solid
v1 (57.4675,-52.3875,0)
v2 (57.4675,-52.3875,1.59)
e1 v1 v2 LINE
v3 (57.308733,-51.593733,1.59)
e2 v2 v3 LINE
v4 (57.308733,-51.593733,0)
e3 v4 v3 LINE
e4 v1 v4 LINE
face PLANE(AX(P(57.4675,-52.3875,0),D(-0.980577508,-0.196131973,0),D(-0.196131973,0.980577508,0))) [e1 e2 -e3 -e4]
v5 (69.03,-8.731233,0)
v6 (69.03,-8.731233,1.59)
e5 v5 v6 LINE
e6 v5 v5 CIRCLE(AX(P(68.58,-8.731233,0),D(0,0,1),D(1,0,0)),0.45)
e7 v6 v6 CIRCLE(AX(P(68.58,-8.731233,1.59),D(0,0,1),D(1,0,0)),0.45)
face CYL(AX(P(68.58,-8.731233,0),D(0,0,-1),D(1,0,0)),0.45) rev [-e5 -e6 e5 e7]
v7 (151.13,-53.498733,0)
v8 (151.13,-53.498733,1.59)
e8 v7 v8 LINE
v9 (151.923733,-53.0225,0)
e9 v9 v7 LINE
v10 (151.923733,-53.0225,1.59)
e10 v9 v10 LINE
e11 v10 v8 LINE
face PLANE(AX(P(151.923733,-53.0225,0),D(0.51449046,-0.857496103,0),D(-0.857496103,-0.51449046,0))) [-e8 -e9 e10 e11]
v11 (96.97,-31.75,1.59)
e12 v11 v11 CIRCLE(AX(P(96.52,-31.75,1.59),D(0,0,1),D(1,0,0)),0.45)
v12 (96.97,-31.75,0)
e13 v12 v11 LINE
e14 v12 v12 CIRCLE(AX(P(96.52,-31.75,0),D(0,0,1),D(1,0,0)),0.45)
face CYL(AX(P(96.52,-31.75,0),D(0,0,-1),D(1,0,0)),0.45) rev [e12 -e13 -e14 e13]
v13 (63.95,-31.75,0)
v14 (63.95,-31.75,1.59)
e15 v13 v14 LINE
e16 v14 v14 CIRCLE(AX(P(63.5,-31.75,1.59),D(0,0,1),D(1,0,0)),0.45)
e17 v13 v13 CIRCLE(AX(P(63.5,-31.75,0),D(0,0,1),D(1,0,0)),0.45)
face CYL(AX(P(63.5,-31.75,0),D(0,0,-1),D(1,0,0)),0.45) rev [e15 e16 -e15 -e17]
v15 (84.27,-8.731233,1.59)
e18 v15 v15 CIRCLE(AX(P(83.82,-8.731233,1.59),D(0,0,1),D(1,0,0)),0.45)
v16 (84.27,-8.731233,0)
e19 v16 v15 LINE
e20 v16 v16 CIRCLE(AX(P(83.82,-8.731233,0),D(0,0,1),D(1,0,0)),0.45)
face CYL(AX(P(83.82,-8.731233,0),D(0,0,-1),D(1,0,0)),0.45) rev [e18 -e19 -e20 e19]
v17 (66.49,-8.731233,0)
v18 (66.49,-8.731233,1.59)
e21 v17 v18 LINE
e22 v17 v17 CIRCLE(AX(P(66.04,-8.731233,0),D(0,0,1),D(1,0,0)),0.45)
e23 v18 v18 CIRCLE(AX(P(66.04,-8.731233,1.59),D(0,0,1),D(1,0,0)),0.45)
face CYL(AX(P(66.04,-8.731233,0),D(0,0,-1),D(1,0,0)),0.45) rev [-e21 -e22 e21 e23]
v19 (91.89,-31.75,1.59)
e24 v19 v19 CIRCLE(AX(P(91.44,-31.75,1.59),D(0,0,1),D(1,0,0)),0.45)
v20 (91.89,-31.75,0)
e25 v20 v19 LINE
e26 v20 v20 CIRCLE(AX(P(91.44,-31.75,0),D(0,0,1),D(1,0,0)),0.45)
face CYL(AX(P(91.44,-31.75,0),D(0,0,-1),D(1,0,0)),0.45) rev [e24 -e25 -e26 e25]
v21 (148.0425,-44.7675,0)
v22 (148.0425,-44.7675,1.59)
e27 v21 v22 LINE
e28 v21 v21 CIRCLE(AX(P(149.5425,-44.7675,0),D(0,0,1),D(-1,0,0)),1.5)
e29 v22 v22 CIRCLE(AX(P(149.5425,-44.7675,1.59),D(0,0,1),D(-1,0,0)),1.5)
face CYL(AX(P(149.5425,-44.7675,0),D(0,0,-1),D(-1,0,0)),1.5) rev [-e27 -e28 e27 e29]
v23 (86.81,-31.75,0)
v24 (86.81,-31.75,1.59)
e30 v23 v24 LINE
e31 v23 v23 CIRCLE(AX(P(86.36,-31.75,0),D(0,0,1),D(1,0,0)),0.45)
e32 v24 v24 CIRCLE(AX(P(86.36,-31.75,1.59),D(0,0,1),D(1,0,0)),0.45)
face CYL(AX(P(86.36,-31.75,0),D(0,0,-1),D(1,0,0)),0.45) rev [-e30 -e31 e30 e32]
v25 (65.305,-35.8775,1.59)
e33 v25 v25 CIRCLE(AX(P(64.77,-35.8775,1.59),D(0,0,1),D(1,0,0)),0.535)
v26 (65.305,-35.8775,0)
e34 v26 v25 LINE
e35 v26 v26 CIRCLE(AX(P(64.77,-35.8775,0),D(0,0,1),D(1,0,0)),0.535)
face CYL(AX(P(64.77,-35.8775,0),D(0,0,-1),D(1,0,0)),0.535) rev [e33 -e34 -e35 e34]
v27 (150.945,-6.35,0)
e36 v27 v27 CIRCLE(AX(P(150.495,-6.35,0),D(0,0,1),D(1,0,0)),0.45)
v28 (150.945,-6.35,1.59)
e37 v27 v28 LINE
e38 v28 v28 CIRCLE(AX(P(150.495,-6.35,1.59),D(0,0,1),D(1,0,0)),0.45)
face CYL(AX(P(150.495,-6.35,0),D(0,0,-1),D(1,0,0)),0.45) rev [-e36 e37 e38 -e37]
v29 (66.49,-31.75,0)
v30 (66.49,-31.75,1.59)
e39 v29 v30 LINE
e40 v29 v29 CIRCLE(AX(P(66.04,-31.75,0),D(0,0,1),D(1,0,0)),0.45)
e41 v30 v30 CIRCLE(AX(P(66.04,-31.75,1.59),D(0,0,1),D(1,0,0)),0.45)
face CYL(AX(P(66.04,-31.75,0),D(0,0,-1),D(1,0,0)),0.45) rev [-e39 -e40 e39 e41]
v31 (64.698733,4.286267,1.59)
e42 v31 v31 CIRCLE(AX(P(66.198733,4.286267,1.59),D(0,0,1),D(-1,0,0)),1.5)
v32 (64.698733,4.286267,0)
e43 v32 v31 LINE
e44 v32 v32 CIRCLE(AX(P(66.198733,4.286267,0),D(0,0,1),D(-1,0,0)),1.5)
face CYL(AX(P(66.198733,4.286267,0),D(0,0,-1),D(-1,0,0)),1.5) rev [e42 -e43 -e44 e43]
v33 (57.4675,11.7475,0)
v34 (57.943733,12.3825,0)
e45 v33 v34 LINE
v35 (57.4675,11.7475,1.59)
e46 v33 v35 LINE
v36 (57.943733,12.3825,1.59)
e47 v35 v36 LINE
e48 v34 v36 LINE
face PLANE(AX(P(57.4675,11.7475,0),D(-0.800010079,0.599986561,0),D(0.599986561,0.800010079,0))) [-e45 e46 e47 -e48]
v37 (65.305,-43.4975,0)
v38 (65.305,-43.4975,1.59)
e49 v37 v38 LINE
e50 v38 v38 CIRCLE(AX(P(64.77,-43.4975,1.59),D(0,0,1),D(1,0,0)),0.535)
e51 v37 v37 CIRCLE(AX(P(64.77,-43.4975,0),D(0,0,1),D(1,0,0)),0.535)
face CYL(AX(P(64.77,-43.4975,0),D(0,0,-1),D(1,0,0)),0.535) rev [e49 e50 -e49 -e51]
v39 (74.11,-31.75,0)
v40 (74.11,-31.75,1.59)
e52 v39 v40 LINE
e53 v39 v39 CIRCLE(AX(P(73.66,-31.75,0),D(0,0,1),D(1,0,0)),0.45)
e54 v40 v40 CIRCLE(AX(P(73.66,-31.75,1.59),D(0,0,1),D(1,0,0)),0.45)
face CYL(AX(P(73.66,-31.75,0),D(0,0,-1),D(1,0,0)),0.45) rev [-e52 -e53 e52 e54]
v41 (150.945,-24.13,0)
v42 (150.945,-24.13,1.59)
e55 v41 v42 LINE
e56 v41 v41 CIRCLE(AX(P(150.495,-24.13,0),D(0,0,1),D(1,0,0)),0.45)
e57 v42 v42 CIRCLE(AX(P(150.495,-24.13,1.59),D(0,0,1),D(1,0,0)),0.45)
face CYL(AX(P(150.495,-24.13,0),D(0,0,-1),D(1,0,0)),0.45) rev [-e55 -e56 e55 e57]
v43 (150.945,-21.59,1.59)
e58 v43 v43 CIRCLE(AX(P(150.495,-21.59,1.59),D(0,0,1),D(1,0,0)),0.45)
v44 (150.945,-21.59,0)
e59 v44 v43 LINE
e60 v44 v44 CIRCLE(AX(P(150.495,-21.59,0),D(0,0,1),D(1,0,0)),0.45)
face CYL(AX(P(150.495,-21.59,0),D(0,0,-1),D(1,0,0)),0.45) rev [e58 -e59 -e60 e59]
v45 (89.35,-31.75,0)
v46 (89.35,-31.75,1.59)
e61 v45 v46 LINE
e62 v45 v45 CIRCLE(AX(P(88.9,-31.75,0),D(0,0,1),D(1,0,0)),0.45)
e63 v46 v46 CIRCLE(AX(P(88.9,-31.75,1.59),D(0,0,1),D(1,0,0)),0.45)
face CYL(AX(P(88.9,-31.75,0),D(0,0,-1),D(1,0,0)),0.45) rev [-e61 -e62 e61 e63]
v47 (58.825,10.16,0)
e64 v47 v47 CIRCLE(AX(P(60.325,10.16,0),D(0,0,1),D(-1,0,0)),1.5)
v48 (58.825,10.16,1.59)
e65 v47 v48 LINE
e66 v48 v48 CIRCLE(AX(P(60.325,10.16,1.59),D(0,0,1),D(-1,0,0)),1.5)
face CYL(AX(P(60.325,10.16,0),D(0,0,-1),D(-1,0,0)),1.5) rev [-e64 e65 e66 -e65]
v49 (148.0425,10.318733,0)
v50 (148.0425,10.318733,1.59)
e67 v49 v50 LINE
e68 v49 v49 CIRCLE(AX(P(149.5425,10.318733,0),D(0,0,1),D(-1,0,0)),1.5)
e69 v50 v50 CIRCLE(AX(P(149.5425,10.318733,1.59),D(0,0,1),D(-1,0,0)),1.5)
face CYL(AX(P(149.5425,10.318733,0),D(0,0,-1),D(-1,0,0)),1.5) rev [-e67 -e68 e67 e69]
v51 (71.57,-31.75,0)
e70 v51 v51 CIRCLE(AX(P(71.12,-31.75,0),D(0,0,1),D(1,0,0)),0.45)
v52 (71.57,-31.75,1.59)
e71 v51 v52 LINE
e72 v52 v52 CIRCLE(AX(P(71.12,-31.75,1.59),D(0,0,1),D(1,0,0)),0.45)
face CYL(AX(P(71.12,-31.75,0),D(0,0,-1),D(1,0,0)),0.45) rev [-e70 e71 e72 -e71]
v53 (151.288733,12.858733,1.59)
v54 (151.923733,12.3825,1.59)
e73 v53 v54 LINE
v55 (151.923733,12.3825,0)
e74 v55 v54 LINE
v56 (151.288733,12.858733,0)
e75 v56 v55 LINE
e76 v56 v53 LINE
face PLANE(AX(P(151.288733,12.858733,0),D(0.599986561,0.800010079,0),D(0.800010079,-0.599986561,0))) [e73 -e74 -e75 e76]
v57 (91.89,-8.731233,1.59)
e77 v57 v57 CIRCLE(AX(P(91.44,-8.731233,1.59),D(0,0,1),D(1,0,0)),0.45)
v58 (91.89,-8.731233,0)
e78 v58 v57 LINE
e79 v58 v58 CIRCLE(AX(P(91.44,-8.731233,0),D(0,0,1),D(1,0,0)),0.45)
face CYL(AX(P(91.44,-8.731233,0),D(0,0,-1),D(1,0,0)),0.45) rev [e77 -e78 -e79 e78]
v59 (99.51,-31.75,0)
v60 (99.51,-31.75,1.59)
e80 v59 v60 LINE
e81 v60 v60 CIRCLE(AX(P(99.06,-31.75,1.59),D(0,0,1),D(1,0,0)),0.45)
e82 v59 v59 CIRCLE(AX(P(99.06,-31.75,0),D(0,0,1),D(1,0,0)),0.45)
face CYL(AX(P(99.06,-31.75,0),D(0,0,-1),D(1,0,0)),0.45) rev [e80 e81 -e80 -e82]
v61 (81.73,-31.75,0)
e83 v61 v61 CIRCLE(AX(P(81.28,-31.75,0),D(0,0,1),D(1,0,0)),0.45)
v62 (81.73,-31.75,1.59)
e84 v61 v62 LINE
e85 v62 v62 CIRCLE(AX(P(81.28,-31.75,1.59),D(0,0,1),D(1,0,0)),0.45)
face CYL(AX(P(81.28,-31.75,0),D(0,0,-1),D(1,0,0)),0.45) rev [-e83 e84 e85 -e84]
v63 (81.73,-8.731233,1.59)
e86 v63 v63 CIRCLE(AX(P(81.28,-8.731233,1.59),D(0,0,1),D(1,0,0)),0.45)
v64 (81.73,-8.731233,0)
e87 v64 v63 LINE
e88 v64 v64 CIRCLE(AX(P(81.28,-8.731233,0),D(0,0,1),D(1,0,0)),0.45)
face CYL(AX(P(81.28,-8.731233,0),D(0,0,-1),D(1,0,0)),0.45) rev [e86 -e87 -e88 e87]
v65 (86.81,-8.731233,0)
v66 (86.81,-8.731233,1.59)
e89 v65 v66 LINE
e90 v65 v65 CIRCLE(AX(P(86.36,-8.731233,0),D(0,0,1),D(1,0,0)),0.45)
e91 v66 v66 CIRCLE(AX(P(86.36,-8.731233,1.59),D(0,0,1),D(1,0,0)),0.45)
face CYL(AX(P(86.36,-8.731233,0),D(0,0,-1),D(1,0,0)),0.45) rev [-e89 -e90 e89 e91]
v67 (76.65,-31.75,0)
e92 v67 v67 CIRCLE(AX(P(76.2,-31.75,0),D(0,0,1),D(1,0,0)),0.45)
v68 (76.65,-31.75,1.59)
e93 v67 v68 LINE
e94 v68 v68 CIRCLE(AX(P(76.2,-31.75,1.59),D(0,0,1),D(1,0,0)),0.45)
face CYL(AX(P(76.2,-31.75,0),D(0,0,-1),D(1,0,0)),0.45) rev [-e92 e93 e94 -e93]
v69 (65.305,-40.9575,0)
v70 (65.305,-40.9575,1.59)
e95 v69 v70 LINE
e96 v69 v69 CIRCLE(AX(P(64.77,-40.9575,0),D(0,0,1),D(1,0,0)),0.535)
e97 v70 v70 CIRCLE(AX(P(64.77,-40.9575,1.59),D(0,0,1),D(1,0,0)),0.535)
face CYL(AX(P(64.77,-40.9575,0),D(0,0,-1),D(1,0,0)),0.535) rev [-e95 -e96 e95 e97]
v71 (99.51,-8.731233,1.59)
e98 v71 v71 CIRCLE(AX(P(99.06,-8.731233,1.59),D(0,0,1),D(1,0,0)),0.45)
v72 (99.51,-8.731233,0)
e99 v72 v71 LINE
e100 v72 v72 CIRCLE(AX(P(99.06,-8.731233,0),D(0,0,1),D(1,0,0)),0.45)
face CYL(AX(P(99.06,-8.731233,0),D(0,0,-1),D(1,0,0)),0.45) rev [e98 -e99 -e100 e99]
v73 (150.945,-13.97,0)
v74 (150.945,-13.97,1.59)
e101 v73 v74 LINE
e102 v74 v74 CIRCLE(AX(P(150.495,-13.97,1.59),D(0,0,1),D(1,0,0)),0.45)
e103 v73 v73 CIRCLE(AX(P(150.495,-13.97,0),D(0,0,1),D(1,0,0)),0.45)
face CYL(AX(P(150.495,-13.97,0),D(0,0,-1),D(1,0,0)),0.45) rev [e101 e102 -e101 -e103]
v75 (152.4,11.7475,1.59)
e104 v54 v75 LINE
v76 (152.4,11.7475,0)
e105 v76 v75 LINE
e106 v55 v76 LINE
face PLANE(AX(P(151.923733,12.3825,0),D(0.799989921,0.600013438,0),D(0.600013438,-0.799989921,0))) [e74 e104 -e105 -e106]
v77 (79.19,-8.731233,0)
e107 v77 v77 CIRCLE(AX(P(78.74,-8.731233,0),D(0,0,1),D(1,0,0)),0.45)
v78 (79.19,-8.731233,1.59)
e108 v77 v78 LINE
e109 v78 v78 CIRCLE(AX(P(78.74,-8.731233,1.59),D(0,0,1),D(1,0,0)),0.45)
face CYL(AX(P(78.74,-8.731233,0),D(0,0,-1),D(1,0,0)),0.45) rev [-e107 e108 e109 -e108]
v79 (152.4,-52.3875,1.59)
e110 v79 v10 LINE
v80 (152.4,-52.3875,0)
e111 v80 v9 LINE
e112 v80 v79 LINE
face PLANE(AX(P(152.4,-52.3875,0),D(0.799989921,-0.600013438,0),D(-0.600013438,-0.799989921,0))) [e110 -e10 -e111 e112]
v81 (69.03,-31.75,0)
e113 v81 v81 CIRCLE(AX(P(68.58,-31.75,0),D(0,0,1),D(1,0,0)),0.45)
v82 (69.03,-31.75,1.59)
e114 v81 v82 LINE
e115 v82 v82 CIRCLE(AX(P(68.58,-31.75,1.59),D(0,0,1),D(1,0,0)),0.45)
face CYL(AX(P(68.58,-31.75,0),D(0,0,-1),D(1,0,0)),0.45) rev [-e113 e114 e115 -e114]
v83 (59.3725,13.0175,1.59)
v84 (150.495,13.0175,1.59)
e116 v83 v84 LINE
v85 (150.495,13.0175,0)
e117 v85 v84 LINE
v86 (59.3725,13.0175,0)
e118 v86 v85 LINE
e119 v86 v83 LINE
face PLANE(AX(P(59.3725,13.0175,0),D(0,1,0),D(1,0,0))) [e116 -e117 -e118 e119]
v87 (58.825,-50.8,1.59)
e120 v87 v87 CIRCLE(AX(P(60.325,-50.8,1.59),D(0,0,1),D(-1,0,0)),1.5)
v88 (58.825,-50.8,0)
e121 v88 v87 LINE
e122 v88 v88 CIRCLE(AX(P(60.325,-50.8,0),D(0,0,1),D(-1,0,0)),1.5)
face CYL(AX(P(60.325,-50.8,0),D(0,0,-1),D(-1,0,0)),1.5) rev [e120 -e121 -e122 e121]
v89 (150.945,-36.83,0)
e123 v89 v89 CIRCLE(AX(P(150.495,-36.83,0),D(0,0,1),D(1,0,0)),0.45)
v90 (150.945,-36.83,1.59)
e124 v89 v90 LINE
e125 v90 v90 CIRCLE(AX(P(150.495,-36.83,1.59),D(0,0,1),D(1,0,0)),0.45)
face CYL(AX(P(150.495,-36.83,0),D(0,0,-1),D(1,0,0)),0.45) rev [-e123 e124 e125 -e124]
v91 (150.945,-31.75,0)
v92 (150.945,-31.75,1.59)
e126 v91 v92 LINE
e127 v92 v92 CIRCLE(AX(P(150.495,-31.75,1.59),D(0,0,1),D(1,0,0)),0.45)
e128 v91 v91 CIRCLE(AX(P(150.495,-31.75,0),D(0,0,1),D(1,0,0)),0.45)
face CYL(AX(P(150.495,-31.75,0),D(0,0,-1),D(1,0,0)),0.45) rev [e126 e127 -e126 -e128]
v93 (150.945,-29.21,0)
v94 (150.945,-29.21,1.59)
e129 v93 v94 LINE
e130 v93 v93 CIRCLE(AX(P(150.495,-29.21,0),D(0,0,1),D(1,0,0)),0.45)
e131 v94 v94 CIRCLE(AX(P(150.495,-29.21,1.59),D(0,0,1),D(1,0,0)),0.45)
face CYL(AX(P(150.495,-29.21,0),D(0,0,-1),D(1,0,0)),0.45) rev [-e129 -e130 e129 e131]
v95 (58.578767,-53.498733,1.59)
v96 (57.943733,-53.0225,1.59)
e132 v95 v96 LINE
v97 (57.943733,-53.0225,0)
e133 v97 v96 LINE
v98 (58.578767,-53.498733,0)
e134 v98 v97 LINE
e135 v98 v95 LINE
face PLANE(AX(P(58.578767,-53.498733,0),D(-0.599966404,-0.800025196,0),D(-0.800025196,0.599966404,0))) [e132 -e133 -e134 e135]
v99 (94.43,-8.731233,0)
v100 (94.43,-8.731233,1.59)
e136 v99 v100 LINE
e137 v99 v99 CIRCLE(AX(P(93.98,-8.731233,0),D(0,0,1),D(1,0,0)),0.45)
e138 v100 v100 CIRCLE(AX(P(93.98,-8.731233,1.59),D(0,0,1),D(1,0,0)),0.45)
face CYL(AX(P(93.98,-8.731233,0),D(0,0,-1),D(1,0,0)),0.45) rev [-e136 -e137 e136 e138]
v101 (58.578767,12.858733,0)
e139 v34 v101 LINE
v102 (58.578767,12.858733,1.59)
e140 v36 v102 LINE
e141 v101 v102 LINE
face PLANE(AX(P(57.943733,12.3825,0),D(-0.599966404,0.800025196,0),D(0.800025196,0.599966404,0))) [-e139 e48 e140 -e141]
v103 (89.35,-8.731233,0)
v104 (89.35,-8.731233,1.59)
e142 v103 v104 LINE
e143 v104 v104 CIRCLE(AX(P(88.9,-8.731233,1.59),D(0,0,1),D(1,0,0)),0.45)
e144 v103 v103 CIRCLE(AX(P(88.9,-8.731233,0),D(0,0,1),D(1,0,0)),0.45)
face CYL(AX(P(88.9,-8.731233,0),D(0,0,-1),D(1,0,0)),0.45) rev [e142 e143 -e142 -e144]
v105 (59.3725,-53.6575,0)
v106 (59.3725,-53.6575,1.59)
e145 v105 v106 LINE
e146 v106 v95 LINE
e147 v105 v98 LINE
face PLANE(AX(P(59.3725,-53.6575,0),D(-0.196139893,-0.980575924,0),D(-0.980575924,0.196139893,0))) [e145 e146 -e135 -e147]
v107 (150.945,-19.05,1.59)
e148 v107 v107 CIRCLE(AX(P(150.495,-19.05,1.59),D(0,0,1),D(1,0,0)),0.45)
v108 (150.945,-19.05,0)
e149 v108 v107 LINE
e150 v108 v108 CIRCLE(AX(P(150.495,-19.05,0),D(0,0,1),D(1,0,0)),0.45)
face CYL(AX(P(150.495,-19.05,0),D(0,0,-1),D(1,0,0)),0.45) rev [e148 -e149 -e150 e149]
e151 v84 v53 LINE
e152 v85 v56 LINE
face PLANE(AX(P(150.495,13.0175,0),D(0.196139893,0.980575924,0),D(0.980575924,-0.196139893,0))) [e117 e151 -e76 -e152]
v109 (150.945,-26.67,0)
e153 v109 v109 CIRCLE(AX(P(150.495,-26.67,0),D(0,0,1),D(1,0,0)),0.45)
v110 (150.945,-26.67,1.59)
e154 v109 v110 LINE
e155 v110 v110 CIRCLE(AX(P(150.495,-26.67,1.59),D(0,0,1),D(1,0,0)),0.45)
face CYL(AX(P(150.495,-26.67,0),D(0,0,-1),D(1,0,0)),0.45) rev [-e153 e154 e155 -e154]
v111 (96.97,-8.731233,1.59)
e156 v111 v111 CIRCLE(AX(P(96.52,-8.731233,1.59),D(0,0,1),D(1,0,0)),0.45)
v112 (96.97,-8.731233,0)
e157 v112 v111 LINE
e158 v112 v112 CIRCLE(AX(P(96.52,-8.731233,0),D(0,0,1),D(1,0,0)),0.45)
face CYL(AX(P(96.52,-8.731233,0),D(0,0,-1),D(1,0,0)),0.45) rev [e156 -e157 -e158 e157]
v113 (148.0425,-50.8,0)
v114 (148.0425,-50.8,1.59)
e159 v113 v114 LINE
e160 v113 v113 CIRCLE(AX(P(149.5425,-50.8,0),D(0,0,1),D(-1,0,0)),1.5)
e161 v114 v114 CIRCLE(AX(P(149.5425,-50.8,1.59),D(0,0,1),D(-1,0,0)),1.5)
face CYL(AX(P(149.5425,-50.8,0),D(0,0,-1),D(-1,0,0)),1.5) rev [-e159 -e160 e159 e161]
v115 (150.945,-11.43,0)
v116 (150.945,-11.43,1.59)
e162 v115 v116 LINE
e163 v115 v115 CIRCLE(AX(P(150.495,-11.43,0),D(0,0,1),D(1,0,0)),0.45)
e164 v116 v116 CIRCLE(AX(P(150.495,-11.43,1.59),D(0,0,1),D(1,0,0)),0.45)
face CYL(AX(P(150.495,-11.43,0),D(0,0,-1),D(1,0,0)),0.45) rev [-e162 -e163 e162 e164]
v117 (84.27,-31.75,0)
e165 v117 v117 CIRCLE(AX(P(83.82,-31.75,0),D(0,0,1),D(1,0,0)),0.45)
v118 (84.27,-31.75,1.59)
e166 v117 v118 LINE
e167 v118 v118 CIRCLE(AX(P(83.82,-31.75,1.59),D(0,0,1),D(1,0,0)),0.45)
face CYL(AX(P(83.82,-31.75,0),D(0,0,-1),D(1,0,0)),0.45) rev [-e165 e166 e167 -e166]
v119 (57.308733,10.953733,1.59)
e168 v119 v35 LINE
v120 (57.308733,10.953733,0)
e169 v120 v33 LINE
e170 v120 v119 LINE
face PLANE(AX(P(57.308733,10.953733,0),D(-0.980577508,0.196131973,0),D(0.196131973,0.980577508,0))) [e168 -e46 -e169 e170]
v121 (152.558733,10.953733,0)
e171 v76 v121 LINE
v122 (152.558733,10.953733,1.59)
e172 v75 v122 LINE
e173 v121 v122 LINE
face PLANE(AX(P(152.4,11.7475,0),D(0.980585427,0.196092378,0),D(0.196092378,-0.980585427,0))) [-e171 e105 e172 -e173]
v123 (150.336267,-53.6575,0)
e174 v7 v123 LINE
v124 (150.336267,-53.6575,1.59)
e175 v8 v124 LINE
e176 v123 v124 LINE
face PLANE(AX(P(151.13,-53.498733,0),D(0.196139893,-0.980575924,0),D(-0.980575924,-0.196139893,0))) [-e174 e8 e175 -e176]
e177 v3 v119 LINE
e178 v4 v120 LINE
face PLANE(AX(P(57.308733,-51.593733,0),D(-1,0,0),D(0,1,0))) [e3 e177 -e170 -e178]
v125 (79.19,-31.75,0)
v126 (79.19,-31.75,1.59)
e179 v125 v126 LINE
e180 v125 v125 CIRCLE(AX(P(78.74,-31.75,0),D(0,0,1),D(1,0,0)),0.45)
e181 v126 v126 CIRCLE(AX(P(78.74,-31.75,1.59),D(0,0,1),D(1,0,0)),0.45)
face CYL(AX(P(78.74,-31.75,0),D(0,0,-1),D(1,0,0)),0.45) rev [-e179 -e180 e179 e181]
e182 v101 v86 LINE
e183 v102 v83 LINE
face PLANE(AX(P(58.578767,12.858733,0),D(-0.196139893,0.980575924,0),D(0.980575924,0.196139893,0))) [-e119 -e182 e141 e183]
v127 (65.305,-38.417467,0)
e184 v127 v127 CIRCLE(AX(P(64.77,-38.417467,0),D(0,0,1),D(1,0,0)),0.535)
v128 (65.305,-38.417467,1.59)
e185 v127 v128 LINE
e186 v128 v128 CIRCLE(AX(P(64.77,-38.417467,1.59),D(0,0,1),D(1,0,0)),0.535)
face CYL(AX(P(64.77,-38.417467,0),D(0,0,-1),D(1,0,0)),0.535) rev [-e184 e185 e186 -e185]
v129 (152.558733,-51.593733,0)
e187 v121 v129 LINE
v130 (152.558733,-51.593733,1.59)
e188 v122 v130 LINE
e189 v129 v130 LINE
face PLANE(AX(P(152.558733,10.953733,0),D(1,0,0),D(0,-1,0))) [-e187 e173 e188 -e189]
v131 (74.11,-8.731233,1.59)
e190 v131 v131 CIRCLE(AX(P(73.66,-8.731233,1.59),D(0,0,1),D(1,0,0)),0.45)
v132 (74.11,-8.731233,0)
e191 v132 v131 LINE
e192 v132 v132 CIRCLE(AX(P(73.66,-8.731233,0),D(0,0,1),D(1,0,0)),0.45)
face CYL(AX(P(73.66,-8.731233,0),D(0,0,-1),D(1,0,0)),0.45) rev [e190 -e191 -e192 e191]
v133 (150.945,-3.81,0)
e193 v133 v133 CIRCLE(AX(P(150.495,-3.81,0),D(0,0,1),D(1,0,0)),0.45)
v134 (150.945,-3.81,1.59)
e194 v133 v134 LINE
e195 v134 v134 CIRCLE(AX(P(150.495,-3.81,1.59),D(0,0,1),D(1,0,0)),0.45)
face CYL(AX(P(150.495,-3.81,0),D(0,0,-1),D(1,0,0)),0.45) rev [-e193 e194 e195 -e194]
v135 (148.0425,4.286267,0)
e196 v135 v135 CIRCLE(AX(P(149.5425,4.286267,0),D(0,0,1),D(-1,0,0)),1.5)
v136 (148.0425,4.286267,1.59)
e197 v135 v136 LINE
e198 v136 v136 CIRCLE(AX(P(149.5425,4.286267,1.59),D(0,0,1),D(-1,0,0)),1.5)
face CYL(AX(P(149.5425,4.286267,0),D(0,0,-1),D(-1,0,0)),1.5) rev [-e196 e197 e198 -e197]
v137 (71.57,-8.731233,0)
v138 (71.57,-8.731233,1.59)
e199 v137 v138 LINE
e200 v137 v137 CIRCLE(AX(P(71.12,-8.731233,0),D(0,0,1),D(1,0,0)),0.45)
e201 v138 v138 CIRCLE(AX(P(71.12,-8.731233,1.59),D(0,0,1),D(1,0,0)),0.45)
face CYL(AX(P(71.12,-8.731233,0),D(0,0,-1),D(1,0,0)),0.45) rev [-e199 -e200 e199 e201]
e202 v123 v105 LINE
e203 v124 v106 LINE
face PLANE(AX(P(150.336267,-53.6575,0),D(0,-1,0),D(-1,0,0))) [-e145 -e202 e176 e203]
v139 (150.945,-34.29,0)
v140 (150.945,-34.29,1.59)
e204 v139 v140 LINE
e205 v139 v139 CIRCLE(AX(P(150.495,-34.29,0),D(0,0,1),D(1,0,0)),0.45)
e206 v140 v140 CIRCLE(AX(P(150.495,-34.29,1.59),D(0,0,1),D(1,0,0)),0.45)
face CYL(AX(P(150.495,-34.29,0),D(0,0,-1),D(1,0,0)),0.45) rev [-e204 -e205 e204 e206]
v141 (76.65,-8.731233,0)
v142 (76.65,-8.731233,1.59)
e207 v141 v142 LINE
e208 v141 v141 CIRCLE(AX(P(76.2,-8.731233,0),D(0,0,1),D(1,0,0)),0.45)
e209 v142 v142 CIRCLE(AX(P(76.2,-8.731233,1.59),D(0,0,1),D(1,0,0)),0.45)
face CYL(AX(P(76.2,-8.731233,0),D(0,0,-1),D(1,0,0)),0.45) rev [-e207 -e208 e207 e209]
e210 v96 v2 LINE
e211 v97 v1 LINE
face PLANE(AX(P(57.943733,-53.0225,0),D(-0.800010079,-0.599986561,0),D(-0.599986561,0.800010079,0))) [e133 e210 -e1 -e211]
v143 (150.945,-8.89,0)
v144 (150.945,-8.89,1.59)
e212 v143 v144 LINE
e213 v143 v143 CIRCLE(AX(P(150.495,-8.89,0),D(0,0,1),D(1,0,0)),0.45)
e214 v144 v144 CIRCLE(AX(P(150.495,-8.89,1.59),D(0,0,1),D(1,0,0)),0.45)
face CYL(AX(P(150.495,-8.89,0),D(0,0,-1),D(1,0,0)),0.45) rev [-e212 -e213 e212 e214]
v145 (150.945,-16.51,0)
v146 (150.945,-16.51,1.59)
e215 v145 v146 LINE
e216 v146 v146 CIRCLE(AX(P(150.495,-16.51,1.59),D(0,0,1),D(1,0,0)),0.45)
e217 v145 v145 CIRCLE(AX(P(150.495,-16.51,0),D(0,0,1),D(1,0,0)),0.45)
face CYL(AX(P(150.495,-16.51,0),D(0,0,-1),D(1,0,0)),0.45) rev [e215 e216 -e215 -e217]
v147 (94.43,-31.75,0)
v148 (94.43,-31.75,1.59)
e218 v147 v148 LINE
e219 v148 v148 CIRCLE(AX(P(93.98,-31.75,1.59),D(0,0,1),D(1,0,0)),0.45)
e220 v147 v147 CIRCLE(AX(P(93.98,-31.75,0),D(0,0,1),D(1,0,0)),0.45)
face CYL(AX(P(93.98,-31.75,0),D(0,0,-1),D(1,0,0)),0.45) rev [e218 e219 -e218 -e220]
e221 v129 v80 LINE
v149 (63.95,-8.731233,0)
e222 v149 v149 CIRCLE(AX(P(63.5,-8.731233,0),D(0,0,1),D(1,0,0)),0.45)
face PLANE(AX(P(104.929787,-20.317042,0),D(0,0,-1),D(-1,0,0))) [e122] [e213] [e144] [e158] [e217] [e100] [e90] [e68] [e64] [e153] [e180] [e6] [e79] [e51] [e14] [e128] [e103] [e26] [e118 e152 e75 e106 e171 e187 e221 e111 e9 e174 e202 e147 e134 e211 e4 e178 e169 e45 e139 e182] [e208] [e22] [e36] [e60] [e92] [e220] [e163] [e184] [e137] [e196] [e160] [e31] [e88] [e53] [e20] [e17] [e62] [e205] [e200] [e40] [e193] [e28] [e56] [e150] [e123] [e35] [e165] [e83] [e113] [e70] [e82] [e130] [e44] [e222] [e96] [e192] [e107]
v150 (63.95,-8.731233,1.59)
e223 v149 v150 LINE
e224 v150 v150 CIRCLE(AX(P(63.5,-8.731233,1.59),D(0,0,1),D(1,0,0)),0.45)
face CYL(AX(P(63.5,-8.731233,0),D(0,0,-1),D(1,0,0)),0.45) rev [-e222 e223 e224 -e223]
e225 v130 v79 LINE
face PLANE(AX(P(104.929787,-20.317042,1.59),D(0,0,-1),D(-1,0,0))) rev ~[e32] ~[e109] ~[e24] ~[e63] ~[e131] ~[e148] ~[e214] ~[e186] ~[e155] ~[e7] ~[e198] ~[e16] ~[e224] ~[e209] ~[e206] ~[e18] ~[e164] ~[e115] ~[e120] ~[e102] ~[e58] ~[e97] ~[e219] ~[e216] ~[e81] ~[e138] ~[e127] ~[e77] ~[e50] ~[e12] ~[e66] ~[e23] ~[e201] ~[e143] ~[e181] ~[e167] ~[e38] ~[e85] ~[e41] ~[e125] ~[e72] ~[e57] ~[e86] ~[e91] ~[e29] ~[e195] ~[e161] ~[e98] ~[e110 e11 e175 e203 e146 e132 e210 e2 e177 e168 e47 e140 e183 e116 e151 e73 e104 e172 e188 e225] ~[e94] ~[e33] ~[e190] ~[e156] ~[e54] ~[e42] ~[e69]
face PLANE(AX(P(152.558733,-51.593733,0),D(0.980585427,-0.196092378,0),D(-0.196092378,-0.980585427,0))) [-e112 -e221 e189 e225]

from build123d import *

# Parameters (mm, degrees)
SKIZZE1_R                       = 1.5
SKIZZE1_R_2                     = 0.45
SKIZZE1_R_3                     = 0.535
AUFSATZ_LINEAR_AUSTRAGEN1_DEPTH = 1.59


with BuildPart() as part:
    # Skizze1 → Aufsatz-Linear austragen1 (new body)
    with BuildSketch(Plane.XY):
        Polygon((57.308733333, 10.953733333), (57.4675, 11.7475), (57.943733333, 12.3825), (58.578766667, 12.858733333), (59.3725, 13.0175), (150.495, 13.0175), (151.288733333, 12.858733333), (151.923733333, 12.3825), (152.4, 11.7475), (152.558733333, 10.953733333), (152.558733333, -51.593733333), (152.4, -52.3875), (151.923733333, -53.0225), (151.13, -53.498733333), (150.336266667, -53.6575), (59.3725, -53.6575), (58.578766667, -53.498733333), (57.943733333, -53.0225), (57.4675, -52.3875), (57.308733333, -51.593733333), align=None)
        with Locations((60.325, 10.16)):
            Circle(SKIZZE1_R, mode=Mode.SUBTRACT)
        with Locations((66.198733333, 4.286266667)):
            Circle(SKIZZE1_R, mode=Mode.SUBTRACT)
        with Locations((91.44, -8.731233333)):
            Circle(SKIZZE1_R_2, mode=Mode.SUBTRACT)
        with Locations((88.9, -8.731233333)):
            Circle(SKIZZE1_R_2, mode=Mode.SUBTRACT)
        with Locations((86.36, -8.731233333)):
            Circle(SKIZZE1_R_2, mode=Mode.SUBTRACT)
        with Locations((83.82, -8.731233333)):
            Circle(SKIZZE1_R_2, mode=Mode.SUBTRACT)
        with Locations((81.28, -8.731233333)):
            Circle(SKIZZE1_R_2, mode=Mode.SUBTRACT)
        with Locations((78.74, -8.731233333)):
            Circle(SKIZZE1_R_2, mode=Mode.SUBTRACT)
        with Locations((76.2, -8.731233333)):
            Circle(SKIZZE1_R_2, mode=Mode.SUBTRACT)
        with Locations((73.66, -8.731233333)):
            Circle(SKIZZE1_R_2, mode=Mode.SUBTRACT)
        with Locations((71.12, -8.731233333)):
            Circle(SKIZZE1_R_2, mode=Mode.SUBTRACT)
        with Locations((68.58, -8.731233333)):
            Circle(SKIZZE1_R_2, mode=Mode.SUBTRACT)
        with Locations((66.04, -8.731233333)):
            Circle(SKIZZE1_R_2, mode=Mode.SUBTRACT)
        with Locations((63.5, -8.731233333)):
            Circle(SKIZZE1_R_2, mode=Mode.SUBTRACT)
        with Locations((99.06, -8.731233333)):
            Circle(SKIZZE1_R_2, mode=Mode.SUBTRACT)
        with Locations((96.52, -8.731233333)):
            Circle(SKIZZE1_R_2, mode=Mode.SUBTRACT)
        with Locations((93.98, -8.731233333)):
            Circle(SKIZZE1_R_2, mode=Mode.SUBTRACT)
        with Locations((78.74, -31.75)):
            Circle(SKIZZE1_R_2, mode=Mode.SUBTRACT)
        with Locations((81.28, -31.75)):
            Circle(SKIZZE1_R_2, mode=Mode.SUBTRACT)
        with Locations((83.82, -31.75)):
            Circle(SKIZZE1_R_2, mode=Mode.SUBTRACT)
        with Locations((86.36, -31.75)):
            Circle(SKIZZE1_R_2, mode=Mode.SUBTRACT)
        with Locations((88.9, -31.75)):
            Circle(SKIZZE1_R_2, mode=Mode.SUBTRACT)
        with Locations((91.44, -31.75)):
            Circle(SKIZZE1_R_2, mode=Mode.SUBTRACT)
        with Locations((93.98, -31.75)):
            Circle(SKIZZE1_R_2, mode=Mode.SUBTRACT)
        with Locations((96.52, -31.75)):
            Circle(SKIZZE1_R_2, mode=Mode.SUBTRACT)
        with Locations((99.06, -31.75)):
            Circle(SKIZZE1_R_2, mode=Mode.SUBTRACT)
        with Locations((64.77, -43.4975)):
            Circle(SKIZZE1_R_3, mode=Mode.SUBTRACT)
        with Locations((64.77, -40.9575)):
            Circle(SKIZZE1_R_3, mode=Mode.SUBTRACT)
        with Locations((64.77, -38.417466667)):
            Circle(SKIZZE1_R_3, mode=Mode.SUBTRACT)
        with Locations((64.77, -35.8775)):
            Circle(SKIZZE1_R_3, mode=Mode.SUBTRACT)
        with Locations((63.5, -31.75)):
            Circle(SKIZZE1_R_2, mode=Mode.SUBTRACT)
        with Locations((66.04, -31.75)):
            Circle(SKIZZE1_R_2, mode=Mode.SUBTRACT)
        with Locations((68.58, -31.75)):
            Circle(SKIZZE1_R_2, mode=Mode.SUBTRACT)
        with Locations((71.12, -31.75)):
            Circle(SKIZZE1_R_2, mode=Mode.SUBTRACT)
        with Locations((73.66, -31.75)):
            Circle(SKIZZE1_R_2, mode=Mode.SUBTRACT)
        with Locations((76.2, -31.75)):
            Circle(SKIZZE1_R_2, mode=Mode.SUBTRACT)
        with Locations((60.325, -50.8)):
            Circle(SKIZZE1_R, mode=Mode.SUBTRACT)
        with Locations((149.5425, -44.7675)):
            Circle(SKIZZE1_R, mode=Mode.SUBTRACT)
        with Locations((149.5425, -50.8)):
            Circle(SKIZZE1_R, mode=Mode.SUBTRACT)
        with Locations((150.495, -11.43)):
            Circle(SKIZZE1_R_2, mode=Mode.SUBTRACT)
        with Locations((150.495, -13.97)):
            Circle(SKIZZE1_R_2, mode=Mode.SUBTRACT)
        with Locations((150.495, -16.51)):
            Circle(SKIZZE1_R_2, mode=Mode.SUBTRACT)
        with Locations((150.495, -19.05)):
            Circle(SKIZZE1_R_2, mode=Mode.SUBTRACT)
        with Locations((150.495, -21.59)):
            Circle(SKIZZE1_R_2, mode=Mode.SUBTRACT)
        with Locations((150.495, -24.13)):
            Circle(SKIZZE1_R_2, mode=Mode.SUBTRACT)
        with Locations((150.495, -26.67)):
            Circle(SKIZZE1_R_2, mode=Mode.SUBTRACT)
        with Locations((150.495, -29.21)):
            Circle(SKIZZE1_R_2, mode=Mode.SUBTRACT)
        with Locations((150.495, -31.75)):
            Circle(SKIZZE1_R_2, mode=Mode.SUBTRACT)
        with Locations((150.495, -34.29)):
            Circle(SKIZZE1_R_2, mode=Mode.SUBTRACT)
        with Locations((150.495, -36.83)):
            Circle(SKIZZE1_R_2, mode=Mode.SUBTRACT)
        with Locations((149.5425, 10.318733333)):
            Circle(SKIZZE1_R, mode=Mode.SUBTRACT)
        with Locations((149.5425, 4.286266667)):
            Circle(SKIZZE1_R, mode=Mode.SUBTRACT)
        with Locations((150.495, -8.89)):
            Circle(SKIZZE1_R_2, mode=Mode.SUBTRACT)
        with Locations((150.495, -3.81)):
            Circle(SKIZZE1_R_2, mode=Mode.SUBTRACT)
        with Locations((150.495, -6.35)):
            Circle(SKIZZE1_R_2, mode=Mode.SUBTRACT)
    extrude(amount=AUFSATZ_LINEAR_AUSTRAGEN1_DEPTH)


solid = part.part
